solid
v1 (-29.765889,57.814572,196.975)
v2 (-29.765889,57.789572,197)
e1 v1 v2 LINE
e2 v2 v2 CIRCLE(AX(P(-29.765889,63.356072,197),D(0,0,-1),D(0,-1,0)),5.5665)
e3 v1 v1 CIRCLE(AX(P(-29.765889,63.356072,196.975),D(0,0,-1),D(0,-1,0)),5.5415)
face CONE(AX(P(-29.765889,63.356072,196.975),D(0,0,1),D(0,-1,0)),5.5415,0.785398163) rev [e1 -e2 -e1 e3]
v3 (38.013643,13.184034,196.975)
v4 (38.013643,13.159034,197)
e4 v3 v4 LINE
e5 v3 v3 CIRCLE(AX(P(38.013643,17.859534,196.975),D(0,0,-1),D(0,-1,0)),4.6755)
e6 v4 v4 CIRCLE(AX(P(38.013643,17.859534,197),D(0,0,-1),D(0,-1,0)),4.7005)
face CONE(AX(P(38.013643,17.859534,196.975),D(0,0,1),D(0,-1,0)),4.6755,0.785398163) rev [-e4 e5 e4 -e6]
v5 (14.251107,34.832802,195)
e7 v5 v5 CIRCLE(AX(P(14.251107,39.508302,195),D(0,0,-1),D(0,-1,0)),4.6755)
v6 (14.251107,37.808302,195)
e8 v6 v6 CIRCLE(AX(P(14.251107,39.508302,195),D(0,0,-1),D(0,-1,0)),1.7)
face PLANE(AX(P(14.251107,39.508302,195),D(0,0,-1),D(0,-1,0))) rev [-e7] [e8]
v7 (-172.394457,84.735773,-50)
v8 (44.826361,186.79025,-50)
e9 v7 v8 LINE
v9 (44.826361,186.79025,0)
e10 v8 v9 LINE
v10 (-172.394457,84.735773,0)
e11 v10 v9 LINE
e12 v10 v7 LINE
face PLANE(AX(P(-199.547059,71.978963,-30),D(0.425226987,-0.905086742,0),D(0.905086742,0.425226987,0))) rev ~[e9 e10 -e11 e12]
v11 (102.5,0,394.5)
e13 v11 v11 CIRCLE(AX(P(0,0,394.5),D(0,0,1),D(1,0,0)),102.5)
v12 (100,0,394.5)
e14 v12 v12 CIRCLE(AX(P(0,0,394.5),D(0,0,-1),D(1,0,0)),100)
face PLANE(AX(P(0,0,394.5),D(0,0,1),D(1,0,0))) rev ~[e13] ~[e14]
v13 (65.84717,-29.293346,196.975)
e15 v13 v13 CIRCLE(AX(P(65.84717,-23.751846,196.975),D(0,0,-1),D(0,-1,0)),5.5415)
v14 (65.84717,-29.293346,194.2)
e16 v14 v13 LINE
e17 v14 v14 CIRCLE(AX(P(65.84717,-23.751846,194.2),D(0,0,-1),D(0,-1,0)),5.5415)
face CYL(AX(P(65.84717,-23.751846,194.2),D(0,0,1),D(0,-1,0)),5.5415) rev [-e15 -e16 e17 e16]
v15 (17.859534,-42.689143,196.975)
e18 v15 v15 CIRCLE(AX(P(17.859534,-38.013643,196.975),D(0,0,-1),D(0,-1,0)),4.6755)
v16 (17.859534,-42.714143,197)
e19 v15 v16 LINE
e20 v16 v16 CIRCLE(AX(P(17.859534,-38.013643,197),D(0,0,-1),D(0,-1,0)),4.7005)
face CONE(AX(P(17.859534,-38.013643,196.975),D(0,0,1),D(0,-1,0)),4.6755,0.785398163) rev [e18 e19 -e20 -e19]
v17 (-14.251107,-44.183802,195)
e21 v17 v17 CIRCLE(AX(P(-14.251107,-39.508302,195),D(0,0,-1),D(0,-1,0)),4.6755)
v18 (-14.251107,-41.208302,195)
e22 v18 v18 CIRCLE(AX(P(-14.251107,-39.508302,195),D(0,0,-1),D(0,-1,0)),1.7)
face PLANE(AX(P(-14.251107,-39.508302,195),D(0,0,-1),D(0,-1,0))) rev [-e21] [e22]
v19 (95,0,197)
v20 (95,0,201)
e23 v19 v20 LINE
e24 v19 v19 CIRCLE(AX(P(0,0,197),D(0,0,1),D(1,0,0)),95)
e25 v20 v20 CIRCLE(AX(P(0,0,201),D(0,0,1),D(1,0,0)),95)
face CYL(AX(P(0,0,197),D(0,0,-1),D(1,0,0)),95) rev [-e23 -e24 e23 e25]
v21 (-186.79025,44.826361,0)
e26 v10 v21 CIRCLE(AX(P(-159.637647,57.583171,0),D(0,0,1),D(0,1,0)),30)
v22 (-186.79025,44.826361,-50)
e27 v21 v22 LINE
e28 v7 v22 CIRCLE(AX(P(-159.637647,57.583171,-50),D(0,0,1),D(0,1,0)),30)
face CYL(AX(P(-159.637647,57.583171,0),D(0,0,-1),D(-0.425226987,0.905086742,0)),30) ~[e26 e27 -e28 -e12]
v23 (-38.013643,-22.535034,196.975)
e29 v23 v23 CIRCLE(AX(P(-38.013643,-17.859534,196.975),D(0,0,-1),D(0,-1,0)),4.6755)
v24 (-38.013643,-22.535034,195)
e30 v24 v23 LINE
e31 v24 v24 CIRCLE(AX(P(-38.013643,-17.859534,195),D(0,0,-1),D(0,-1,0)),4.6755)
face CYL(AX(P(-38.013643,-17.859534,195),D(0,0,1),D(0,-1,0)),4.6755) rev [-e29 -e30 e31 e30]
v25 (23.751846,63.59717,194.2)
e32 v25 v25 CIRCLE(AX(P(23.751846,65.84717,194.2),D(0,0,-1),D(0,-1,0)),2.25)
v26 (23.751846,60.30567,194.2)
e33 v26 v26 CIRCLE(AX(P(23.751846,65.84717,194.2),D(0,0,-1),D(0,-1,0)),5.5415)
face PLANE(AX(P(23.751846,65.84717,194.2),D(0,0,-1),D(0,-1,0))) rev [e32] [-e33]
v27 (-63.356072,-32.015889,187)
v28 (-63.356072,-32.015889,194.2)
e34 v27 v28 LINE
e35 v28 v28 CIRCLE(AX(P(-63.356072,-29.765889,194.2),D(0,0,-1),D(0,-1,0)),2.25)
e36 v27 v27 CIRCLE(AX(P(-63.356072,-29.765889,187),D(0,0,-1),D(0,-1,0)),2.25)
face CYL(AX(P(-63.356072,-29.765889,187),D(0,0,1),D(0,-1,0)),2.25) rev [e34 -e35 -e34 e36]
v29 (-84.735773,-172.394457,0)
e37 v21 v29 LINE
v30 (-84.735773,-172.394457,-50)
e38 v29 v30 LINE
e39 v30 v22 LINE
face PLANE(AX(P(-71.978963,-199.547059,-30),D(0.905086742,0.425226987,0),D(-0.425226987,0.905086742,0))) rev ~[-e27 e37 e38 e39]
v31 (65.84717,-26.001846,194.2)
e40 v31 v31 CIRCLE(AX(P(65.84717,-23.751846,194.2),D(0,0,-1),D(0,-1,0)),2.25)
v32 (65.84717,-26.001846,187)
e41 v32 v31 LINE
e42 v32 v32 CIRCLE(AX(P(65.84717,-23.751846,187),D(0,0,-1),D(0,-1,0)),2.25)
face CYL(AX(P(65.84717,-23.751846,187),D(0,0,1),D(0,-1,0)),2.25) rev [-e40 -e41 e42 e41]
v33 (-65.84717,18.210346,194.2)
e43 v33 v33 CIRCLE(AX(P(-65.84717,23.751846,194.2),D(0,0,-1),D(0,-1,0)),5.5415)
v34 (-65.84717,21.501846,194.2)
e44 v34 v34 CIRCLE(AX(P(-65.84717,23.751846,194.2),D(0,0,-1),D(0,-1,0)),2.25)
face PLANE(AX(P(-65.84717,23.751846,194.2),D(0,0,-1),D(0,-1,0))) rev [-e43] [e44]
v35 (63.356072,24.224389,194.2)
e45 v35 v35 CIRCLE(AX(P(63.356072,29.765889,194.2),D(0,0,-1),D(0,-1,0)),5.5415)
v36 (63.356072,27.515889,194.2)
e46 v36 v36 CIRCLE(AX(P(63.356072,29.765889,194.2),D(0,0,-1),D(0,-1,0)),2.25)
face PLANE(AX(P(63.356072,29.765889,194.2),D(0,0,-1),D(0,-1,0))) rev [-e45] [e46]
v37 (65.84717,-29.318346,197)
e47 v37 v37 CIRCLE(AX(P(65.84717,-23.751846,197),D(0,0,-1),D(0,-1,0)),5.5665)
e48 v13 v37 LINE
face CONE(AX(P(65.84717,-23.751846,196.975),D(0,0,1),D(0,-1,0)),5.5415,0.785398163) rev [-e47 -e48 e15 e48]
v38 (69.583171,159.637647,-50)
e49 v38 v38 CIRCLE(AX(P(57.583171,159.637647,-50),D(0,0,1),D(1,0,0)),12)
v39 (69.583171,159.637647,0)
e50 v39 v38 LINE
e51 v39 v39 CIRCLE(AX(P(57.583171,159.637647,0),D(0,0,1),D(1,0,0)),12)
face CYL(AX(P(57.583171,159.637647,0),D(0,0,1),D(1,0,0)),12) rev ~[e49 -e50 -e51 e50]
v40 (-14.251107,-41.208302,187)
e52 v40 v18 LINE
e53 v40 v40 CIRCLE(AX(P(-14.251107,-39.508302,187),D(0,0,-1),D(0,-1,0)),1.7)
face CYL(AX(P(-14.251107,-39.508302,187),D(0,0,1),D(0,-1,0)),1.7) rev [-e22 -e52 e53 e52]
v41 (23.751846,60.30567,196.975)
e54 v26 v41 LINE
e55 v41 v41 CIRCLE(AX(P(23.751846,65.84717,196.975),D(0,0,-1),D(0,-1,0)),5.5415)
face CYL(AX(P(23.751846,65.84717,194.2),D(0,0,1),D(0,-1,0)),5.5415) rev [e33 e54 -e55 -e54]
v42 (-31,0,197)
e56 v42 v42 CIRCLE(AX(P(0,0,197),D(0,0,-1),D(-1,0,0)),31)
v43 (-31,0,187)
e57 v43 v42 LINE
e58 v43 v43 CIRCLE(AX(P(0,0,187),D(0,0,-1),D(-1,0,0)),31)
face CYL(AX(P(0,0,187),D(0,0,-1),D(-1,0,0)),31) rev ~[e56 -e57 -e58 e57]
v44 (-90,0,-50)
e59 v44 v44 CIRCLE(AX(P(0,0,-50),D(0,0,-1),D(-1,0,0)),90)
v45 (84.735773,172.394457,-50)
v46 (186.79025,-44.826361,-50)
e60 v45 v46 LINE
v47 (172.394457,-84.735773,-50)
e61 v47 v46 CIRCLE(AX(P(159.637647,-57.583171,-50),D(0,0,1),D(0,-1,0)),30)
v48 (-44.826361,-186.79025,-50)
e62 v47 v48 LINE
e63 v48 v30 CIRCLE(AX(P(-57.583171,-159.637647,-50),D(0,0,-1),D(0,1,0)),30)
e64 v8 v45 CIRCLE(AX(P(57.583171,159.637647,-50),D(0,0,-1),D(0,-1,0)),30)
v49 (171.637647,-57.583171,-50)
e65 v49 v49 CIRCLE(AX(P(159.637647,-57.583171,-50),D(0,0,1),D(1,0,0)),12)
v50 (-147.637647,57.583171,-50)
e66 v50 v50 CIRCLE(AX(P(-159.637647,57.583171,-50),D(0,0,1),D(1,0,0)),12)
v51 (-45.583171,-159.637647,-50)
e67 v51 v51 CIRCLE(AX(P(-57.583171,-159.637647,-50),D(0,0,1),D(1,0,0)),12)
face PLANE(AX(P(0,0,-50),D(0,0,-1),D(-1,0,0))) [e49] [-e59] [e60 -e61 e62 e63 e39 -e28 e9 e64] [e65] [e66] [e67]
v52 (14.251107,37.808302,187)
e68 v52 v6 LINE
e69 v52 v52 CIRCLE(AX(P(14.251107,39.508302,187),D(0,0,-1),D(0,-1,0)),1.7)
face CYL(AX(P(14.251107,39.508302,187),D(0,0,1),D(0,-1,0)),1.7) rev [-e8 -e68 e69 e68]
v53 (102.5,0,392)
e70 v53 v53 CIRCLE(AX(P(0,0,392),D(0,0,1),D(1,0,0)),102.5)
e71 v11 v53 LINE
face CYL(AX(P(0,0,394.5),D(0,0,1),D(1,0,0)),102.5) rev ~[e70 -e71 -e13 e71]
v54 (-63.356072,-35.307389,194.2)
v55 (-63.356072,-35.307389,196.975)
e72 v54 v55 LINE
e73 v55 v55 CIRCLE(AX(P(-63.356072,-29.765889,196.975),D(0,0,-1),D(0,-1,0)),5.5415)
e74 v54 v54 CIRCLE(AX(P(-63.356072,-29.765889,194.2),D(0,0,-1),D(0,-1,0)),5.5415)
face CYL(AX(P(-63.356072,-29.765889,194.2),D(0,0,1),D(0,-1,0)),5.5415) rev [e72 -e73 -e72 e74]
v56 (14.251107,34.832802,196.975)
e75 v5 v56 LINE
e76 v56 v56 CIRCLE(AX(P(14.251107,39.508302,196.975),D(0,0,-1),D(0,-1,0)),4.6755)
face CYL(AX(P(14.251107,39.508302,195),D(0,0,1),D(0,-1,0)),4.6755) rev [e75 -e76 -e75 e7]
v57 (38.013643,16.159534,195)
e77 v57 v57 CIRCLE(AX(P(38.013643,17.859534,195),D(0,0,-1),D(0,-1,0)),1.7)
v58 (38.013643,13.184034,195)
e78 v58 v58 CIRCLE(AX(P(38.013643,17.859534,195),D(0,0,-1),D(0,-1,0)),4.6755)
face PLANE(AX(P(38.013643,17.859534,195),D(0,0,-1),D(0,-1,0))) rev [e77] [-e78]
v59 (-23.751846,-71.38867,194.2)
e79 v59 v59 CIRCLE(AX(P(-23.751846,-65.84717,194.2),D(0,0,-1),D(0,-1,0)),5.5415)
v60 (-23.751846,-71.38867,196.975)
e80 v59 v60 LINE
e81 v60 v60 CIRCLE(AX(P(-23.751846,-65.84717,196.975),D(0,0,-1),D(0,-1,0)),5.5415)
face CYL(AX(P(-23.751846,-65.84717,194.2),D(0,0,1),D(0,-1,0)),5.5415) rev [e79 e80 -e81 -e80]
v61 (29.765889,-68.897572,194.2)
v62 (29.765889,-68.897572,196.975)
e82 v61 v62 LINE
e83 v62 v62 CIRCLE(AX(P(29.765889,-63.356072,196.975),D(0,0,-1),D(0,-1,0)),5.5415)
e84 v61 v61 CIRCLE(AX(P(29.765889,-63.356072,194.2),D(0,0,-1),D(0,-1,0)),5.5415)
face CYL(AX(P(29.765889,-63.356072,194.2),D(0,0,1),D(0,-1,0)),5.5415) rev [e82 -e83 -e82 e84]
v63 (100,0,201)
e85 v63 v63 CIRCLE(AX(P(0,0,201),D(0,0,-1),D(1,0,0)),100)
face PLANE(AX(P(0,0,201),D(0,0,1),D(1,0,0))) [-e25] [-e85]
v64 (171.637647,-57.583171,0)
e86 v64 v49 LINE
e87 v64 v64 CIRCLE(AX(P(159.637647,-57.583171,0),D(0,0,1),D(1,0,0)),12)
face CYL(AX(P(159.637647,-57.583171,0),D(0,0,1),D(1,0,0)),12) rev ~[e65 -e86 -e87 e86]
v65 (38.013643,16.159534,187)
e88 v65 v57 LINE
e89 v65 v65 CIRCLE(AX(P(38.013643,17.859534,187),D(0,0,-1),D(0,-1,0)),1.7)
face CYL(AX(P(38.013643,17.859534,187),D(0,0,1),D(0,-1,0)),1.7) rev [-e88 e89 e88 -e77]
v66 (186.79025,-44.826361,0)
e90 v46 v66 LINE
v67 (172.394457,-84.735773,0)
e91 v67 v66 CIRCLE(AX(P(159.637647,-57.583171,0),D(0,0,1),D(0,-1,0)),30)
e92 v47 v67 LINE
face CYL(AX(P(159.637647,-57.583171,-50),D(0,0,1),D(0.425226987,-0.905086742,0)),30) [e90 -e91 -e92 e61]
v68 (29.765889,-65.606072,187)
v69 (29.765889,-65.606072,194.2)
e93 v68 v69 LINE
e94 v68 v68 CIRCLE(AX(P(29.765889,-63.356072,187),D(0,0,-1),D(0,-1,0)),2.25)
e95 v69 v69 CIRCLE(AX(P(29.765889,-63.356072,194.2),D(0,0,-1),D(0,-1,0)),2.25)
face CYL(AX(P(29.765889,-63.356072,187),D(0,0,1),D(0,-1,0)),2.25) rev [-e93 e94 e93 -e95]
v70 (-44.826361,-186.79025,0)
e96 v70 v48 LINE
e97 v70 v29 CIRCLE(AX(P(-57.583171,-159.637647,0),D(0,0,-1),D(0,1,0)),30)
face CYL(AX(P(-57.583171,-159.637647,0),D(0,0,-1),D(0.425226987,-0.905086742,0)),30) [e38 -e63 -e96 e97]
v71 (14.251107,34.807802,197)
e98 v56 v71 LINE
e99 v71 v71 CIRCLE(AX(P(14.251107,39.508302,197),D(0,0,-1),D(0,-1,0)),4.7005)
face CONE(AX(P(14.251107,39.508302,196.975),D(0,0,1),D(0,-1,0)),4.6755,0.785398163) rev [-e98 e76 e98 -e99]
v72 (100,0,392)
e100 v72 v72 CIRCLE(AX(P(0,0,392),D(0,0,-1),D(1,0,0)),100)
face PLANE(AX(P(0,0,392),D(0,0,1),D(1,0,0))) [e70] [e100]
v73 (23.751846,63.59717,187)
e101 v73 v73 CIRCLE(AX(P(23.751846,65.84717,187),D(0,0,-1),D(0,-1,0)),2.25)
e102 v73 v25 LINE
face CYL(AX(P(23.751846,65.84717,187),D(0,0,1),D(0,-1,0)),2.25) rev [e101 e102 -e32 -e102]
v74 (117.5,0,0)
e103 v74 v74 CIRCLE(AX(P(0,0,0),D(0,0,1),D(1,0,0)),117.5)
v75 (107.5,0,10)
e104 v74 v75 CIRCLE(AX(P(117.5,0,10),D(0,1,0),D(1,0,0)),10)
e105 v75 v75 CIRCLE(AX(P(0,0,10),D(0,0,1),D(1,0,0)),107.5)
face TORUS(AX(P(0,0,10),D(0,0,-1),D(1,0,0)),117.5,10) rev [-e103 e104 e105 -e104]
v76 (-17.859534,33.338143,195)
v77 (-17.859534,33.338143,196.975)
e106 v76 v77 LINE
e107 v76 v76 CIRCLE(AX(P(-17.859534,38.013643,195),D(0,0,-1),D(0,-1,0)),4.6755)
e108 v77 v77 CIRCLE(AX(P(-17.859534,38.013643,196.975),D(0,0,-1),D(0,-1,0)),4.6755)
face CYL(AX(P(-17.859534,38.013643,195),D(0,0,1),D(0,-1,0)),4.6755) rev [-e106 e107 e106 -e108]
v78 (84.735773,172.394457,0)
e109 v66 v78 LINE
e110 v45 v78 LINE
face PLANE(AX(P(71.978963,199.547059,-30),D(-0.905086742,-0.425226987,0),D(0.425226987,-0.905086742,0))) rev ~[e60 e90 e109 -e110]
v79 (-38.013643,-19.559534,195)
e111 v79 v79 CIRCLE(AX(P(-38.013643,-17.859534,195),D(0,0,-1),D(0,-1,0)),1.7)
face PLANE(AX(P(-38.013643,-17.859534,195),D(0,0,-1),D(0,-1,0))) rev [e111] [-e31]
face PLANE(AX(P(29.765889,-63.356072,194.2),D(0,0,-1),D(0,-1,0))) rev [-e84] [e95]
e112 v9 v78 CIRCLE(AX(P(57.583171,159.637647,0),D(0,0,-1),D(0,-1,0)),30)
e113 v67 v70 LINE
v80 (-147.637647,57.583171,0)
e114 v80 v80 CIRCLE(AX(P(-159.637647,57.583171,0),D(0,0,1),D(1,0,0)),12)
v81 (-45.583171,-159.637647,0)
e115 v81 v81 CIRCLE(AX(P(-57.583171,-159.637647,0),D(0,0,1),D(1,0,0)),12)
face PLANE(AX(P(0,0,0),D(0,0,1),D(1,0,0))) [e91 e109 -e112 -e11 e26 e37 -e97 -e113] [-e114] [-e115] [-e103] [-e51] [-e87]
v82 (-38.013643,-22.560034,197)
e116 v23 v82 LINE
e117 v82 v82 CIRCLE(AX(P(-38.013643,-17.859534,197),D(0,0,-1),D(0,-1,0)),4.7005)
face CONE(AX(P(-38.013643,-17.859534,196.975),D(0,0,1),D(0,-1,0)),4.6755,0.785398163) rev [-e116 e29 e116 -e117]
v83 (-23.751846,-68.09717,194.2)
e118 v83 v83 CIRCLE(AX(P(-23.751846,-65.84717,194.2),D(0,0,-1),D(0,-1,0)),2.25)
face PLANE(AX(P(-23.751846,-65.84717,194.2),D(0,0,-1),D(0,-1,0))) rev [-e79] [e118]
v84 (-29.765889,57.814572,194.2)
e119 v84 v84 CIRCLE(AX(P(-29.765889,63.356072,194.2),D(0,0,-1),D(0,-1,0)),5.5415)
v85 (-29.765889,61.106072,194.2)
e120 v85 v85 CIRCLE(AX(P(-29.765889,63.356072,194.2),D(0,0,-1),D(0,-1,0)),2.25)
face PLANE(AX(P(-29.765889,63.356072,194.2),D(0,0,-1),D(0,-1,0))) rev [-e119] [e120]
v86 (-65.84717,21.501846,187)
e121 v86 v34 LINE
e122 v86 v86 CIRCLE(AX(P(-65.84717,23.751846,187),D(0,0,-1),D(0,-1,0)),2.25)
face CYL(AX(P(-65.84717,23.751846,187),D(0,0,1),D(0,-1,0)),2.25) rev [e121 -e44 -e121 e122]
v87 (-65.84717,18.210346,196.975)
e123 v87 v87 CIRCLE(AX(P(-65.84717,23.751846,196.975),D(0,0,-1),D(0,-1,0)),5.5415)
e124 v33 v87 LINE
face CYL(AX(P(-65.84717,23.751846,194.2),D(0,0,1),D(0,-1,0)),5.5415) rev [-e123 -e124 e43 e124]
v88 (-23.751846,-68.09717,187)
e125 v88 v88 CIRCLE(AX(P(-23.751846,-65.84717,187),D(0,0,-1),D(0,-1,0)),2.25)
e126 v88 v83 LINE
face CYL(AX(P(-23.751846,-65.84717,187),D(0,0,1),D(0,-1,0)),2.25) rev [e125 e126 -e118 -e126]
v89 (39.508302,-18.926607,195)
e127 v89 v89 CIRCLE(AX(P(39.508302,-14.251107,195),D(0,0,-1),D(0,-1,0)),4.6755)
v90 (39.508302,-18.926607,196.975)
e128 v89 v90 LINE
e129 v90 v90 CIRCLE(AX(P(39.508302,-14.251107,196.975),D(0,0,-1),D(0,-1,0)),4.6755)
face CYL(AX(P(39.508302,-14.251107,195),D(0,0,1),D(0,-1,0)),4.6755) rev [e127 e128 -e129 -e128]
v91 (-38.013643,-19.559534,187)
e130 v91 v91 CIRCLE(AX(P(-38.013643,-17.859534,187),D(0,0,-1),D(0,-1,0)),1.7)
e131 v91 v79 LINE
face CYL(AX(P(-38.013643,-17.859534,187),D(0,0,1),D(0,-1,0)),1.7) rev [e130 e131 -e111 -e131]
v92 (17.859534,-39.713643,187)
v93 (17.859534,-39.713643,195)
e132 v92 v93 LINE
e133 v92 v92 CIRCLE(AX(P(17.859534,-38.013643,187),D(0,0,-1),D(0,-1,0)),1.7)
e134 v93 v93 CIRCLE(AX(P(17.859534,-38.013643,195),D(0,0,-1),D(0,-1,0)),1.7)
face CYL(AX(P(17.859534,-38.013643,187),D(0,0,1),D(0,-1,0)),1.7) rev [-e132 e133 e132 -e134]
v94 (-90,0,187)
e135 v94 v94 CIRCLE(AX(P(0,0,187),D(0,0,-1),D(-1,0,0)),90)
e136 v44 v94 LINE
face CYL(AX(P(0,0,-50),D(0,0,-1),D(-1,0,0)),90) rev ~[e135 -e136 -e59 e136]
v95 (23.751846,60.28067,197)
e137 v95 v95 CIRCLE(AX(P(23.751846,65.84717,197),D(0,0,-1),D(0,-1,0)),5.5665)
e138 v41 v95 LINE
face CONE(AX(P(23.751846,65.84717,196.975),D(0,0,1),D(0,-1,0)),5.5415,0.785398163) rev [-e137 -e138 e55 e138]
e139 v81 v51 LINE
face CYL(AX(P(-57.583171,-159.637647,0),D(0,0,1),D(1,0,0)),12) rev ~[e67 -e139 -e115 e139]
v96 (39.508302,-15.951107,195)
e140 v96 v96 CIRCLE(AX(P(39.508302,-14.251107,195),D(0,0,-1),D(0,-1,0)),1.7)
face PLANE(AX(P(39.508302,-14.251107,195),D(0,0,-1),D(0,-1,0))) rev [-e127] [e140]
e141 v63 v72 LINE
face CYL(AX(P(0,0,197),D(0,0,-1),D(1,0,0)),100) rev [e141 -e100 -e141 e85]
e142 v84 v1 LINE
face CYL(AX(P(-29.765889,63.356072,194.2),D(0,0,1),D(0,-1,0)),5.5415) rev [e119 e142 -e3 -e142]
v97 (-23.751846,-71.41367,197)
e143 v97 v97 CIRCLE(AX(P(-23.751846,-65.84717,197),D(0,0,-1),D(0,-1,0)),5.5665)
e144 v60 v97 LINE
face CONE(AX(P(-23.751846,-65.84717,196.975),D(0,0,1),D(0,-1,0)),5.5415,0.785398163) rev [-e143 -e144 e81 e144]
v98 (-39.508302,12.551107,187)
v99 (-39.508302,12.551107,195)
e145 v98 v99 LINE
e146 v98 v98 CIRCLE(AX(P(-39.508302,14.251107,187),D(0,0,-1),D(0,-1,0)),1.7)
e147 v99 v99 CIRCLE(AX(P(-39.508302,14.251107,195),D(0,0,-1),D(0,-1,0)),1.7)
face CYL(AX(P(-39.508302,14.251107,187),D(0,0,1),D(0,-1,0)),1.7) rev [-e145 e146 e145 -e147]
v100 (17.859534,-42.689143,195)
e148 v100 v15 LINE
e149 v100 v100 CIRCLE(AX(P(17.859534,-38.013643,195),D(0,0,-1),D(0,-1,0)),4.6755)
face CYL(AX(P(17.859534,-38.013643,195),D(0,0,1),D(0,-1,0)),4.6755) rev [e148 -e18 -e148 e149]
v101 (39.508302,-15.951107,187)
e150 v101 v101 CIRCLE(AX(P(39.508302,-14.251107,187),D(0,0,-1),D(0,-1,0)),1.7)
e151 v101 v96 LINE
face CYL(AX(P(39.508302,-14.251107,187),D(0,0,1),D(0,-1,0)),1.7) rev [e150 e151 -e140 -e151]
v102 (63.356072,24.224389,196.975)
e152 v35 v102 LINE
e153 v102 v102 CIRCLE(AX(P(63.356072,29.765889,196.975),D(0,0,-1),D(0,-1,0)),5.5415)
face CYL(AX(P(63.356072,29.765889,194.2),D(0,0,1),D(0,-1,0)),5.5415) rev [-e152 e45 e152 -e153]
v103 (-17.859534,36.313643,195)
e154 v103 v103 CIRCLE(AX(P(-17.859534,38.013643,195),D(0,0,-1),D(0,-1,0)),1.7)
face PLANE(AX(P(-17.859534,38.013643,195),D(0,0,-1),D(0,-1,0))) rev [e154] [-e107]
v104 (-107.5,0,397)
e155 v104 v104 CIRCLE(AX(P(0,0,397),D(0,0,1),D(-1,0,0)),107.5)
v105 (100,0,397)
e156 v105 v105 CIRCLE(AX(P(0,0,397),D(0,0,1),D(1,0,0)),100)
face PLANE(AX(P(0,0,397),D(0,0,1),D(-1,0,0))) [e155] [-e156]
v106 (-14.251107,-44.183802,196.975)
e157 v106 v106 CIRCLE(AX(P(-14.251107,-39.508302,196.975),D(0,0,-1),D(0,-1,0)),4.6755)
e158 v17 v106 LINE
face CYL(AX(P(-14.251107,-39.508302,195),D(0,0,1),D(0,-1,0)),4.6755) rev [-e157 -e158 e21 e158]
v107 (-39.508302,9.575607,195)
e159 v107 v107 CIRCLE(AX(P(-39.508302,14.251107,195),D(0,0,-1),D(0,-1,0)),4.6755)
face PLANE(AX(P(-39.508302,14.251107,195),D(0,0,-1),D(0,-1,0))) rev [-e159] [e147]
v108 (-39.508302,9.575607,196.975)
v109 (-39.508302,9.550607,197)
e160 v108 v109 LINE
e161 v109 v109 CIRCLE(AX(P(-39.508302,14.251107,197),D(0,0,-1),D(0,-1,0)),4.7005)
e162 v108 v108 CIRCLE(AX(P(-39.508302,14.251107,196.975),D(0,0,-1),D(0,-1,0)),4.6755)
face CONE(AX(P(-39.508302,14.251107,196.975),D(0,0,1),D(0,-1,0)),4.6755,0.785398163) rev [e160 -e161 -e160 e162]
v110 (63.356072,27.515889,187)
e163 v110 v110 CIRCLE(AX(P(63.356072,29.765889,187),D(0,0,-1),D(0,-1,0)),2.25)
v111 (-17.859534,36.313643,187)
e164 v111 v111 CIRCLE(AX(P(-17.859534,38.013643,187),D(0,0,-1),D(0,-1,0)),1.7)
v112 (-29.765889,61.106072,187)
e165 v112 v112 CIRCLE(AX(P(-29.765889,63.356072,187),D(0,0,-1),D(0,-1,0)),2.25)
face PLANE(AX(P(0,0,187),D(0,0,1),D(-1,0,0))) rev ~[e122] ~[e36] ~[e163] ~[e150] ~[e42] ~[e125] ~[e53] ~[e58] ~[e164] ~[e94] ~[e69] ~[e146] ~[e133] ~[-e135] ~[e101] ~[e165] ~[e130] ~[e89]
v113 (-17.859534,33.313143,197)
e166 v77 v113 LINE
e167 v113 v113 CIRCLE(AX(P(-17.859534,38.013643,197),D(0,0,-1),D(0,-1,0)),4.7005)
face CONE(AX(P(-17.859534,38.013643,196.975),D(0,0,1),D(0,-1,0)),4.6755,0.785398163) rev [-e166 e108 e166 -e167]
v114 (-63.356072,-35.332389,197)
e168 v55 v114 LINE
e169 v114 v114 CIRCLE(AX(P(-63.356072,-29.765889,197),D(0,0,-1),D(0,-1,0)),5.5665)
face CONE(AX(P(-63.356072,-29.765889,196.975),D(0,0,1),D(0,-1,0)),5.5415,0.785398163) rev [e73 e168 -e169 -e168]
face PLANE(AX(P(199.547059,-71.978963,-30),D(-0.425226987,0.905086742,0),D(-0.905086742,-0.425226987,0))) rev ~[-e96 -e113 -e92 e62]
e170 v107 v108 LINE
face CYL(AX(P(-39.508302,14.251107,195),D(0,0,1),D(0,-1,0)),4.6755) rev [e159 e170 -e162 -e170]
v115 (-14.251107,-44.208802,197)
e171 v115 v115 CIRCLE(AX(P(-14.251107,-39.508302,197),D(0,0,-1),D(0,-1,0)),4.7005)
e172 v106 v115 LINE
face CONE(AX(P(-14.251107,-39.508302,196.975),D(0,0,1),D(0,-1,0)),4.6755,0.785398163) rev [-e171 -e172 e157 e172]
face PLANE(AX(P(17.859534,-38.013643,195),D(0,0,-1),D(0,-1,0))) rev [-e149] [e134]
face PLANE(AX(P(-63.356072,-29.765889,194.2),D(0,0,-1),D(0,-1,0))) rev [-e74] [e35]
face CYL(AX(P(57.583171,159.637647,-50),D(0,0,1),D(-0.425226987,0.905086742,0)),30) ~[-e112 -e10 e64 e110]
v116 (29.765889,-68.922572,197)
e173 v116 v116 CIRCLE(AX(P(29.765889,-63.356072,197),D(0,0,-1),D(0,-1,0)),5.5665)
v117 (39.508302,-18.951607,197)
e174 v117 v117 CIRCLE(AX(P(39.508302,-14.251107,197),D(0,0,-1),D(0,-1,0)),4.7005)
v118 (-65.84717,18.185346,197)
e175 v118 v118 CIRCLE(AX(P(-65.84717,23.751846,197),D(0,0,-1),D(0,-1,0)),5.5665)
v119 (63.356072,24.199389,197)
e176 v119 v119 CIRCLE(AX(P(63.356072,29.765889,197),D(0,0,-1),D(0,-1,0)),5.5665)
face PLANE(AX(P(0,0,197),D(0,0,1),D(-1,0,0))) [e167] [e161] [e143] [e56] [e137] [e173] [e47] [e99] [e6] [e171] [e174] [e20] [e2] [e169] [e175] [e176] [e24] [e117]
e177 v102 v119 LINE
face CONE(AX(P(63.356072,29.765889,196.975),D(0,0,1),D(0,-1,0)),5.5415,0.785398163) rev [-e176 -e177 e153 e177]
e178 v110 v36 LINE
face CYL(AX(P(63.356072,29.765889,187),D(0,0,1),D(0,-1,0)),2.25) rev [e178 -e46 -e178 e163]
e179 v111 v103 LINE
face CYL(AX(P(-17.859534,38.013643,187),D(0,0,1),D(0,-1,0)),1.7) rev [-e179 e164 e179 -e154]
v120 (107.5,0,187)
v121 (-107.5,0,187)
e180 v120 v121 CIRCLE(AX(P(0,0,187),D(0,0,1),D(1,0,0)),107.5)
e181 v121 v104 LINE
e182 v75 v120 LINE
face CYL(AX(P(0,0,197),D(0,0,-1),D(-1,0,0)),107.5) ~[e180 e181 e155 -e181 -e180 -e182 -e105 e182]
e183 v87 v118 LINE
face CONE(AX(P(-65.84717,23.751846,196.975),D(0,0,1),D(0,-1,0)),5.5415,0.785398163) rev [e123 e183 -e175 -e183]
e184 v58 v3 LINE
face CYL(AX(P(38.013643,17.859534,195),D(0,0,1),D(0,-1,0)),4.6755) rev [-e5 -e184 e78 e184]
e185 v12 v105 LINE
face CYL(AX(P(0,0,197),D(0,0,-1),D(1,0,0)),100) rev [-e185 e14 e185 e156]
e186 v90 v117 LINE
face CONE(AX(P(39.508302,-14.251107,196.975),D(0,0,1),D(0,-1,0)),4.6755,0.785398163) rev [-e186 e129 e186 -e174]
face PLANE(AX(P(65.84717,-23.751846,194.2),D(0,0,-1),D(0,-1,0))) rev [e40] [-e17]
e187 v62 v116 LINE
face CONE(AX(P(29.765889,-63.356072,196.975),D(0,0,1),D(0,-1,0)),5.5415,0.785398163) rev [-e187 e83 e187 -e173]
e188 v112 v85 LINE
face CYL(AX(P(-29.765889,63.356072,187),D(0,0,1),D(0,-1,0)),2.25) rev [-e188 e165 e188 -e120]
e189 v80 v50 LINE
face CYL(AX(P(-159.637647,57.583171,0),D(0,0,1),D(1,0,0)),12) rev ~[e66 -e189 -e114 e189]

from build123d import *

# Parameters (mm, degrees)
SKETCH1_R                                   = 107.5
SKETCH1_R_2                                 = 100
BOSS_EXTRUDE1_DEPTH                         = 187
BOSS_EXTRUDE2_DEPTH                         = 30
BOSS_EXTRUDE3_DEPTH                         = 20
FILLET1_R                                   = 30
FILLET2_R                                   = 10
SKETCH5_R                                   = 105
CUT_EXTRUDE1_DEPTH                          = 942
SKETCH6_R                                   = 107.5
BOSS_EXTRUDE6_DEPTH                         = 10
SKETCH7_R                                   = 107.5
SKETCH7_R_2                                 = 100
BOSS_EXTRUDE7_DEPTH                         = 200
SKETCH8_R                                   = 102.5
SKETCH8_R_2                                 = 95
BOSS_EXTRUDE8_DEPTH                         = 4
CUT_EXTRUDE2_START                          = -2.5
SKETCH9_R                                   = 102.5
CUT_EXTRUDE2_DEPTH                          = 2.5
SKETCH10_R                                  = 31
CUT_EXTRUDE3_DEPTH                          = 28
CBORE_FOR_M4_HEX_HEAD_CAP_SCREW1_AT_2_COUNT = 2
CBORE_FOR_M4_HEX_HEAD_CAP_SCREW1_AT_2_PITCH = 53.575680531
CBORE_FOR_M4_HEX_HEAD_CAP_SCREW1_AT_3_COUNT = 2
CBORE_FOR_M4_HEX_HEAD_CAP_SCREW1_AT_3_PITCH = 98.994949366
CBORE_FOR_M4_HEX_HEAD_CAP_SCREW1_AT_4_COUNT = 2
CBORE_FOR_M4_HEX_HEAD_CAP_SCREW1_AT_4_PITCH = 129.343134552
CBORE_FOR_M4_HEX_HEAD_CAP_SCREW1_AT_5_COUNT = 2
CBORE_FOR_M4_HEX_HEAD_CAP_SCREW1_AT_5_PITCH = 140
CBORE_FOR_M4_HEX_HEAD_CAP_SCREW1_AT_6_COUNT = 2
CBORE_FOR_M4_HEX_HEAD_CAP_SCREW1_AT_6_PITCH = 129.343134552
CBORE_FOR_M4_HEX_HEAD_CAP_SCREW1_AT_7_COUNT = 2
CBORE_FOR_M4_HEX_HEAD_CAP_SCREW1_AT_7_PITCH = 98.994949366
CBORE_FOR_M4_HEX_HEAD_CAP_SCREW1_AT_8_COUNT = 2
CBORE_FOR_M4_HEX_HEAD_CAP_SCREW1_AT_8_PITCH = 53.575680531
CBORE_FOR_M3_HEX_HEAD_CAP_SCREW1_AT_2_COUNT = 2
CBORE_FOR_M3_HEX_HEAD_CAP_SCREW1_AT_2_PITCH = 32.145408414
CBORE_FOR_M3_HEX_HEAD_CAP_SCREW1_AT_3_COUNT = 2
CBORE_FOR_M3_HEX_HEAD_CAP_SCREW1_AT_3_PITCH = 59.396969796
CBORE_FOR_M3_HEX_HEAD_CAP_SCREW1_AT_4_COUNT = 2
CBORE_FOR_M3_HEX_HEAD_CAP_SCREW1_AT_4_PITCH = 77.605880961
CBORE_FOR_M3_HEX_HEAD_CAP_SCREW1_AT_5_COUNT = 2
CBORE_FOR_M3_HEX_HEAD_CAP_SCREW1_AT_5_PITCH = 84.00000025
CBORE_FOR_M3_HEX_HEAD_CAP_SCREW1_AT_6_COUNT = 2
CBORE_FOR_M3_HEX_HEAD_CAP_SCREW1_AT_6_PITCH = 77.605880961
CBORE_FOR_M3_HEX_HEAD_CAP_SCREW1_AT_7_COUNT = 2
CBORE_FOR_M3_HEX_HEAD_CAP_SCREW1_AT_7_PITCH = 59.396969796
CBORE_FOR_M3_HEX_HEAD_CAP_SCREW1_AT_8_COUNT = 2
CBORE_FOR_M3_HEX_HEAD_CAP_SCREW1_AT_8_PITCH = 32.145408414
BOSS_EXTRUDE9_START                         = 237
SKETCH20_R                                  = 105
SKETCH20_R_2                                = 90
BOSS_EXTRUDE9_DEPTH                         = 237
SKETCH21_R                                  = 12
CUT_EXTRUDE4_DEPTH                          = 421


with BuildPart() as part:
    # Sketch1 → Boss-Extrude1 (new body)
    with BuildSketch(Plane.XY):
        Circle(SKETCH1_R)
        Circle(SKETCH1_R_2, mode=Mode.SUBTRACT)
    extrude(amount=BOSS_EXTRUDE1_DEPTH)

    # Sketch2 → Boss-Extrude2 (add)
    with BuildSketch(Plane(origin=(0, 0, 0), x_dir=(-1, 0, 0), z_dir=(0, 0, -1))):
        Polygon((-199.547059231, -71.978963263), (-71.978963263, 199.547059231), (63.784047984, 135.763011247), (199.547059231, 71.978963263), (71.978963263, -199.547059231), (-63.784047984, -135.763011247), align=None)
    extrude(amount=BOSS_EXTRUDE2_DEPTH)

    # Sketch3 → Boss-Extrude3 (add)
    with BuildSketch(Plane(origin=(0, 0, -30), x_dir=(-1, 0, 0), z_dir=(0, 0, -1))):
        Polygon((-199.547059231, -71.978963263), (71.978963263, -199.547059231), (199.547059231, 71.978963263), (-71.978963263, 199.547059231), align=None)
    extrude(amount=BOSS_EXTRUDE3_DEPTH)

    # Fillet1
    fillet1_edges = [part.edges().sort_by_distance(p)[0] for p in [
        (199.547059231, -71.978963263, -25),
        (-71.978963263, -199.547059231, -25),
        (-199.547059231, 71.978963263, -25),
        (71.978963263, 199.547059231, -25),
    ]]
    fillet(fillet1_edges, radius=FILLET1_R)

    # Fillet2
    fillet2_edges = [part.edges().sort_by_distance(p)[0] for p in [
        (-107.5, 0, 0),
    ]]
    fillet(fillet2_edges, radius=FILLET2_R)

    # Sketch5 → Cut-Extrude1 (cut)
    with BuildSketch(Plane(origin=(0, 0, -50), x_dir=(-1, 0, 0), z_dir=(0, 0, -1))):
        Circle(SKETCH5_R)
    extrude(amount=-CUT_EXTRUDE1_DEPTH, mode=Mode.SUBTRACT)

    # Sketch6 → Boss-Extrude6 (add)
    with BuildSketch(Plane.XY.offset(187)):
        with Locations(Location((0, 0, 0), (0, 0, 180))):
            Circle(SKETCH6_R)
    extrude(amount=BOSS_EXTRUDE6_DEPTH)

    # Sketch7 → Boss-Extrude7 (add)
    with BuildSketch(Plane.XY.offset(197)):
        with Locations(Location((0, 0, 0), (0, 0, 180))):
            Circle(SKETCH7_R)
        Circle(SKETCH7_R_2, mode=Mode.SUBTRACT)
    extrude(amount=BOSS_EXTRUDE7_DEPTH)

    # Sketch8 → Boss-Extrude8 (add)
    with BuildSketch(Plane.XY.offset(197)):
        Circle(SKETCH8_R)
        Circle(SKETCH8_R_2, mode=Mode.SUBTRACT)
    extrude(amount=BOSS_EXTRUDE8_DEPTH)

    # Sketch9 → Cut-Extrude2 (cut)
    with BuildSketch(Plane.XY.offset(397).offset(CUT_EXTRUDE2_START)):
        Circle(SKETCH9_R)
    extrude(amount=-CUT_EXTRUDE2_DEPTH, mode=Mode.SUBTRACT)

    # Sketch10 → Cut-Extrude3 (cut)
    with BuildSketch(Plane(origin=(0, 0, 187), x_dir=(-1, 0, 0), z_dir=(0, 0, -1))):
        Circle(SKETCH10_R)
    extrude(amount=-CUT_EXTRUDE3_DEPTH, mode=Mode.SUBTRACT)

    # Sketch13 → CBORE for M4 Hex Head Cap Screw1 (revolve, cut)
    with BuildSketch(Plane(origin=(23.75184564, 65.847170241, 197), x_dir=(0, -1, 0), z_dir=(1, 0, 0))):
        Polygon((0, 0), (0, 11.351936393), (2.25, 10), (2.25, 2.8), (5.5415, 2.8), (5.5415, 0.025), (5.5665, 0), align=None)
    cbore_for_m4_hex_head_cap_screw1 = revolve(axis=Axis((23.75184564, 65.847170241, 203.35), (0, 0, -1)), mode=Mode.SUBTRACT)

    # CBORE for M4 Hex Head Cap Screw1 at 2: CBORE for M4 Hex Head Cap Screw1 ×2
    with Locations(*[Vector(0.7392202149258387, -0.6734637880725266, 0) * (i * CBORE_FOR_M4_HEX_HEAD_CAP_SCREW1_AT_2_PITCH) for i in range(1, CBORE_FOR_M4_HEX_HEAD_CAP_SCREW1_AT_2_COUNT)]):
        add(cbore_for_m4_hex_head_cap_screw1, mode=Mode.SUBTRACT)

    # CBORE for M4 Hex Head Cap Screw1 at 3: CBORE for M4 Hex Head Cap Screw1 ×2
    with Locations(*[Vector(0.4252269925953868, -0.9050867388092054, 0) * (i * CBORE_FOR_M4_HEX_HEAD_CAP_SCREW1_AT_3_PITCH) for i in range(1, CBORE_FOR_M4_HEX_HEAD_CAP_SCREW1_AT_3_COUNT)]):
        add(cbore_for_m4_hex_head_cap_screw1, mode=Mode.SUBTRACT)

    # CBORE for M4 Hex Head Cap Screw1 at 4: CBORE for M4 Hex Head Cap Screw1 ×2
    with Locations(*[Vector(0.04649681533457415, -0.998918438193901, 0) * (i * CBORE_FOR_M4_HEX_HEAD_CAP_SCREW1_AT_4_PITCH) for i in range(1, CBORE_FOR_M4_HEX_HEAD_CAP_SCREW1_AT_4_COUNT)]):
        add(cbore_for_m4_hex_head_cap_screw1, mode=Mode.SUBTRACT)

    # CBORE for M4 Hex Head Cap Screw1 at 5: CBORE for M4 Hex Head Cap Screw1 ×2
    with Locations(*[Vector(-0.3393120805662469, -0.9406738605817666, 0) * (i * CBORE_FOR_M4_HEX_HEAD_CAP_SCREW1_AT_5_PITCH) for i in range(1, CBORE_FOR_M4_HEX_HEAD_CAP_SCREW1_AT_5_COUNT)]):
        add(cbore_for_m4_hex_head_cap_screw1, mode=Mode.SUBTRACT)

    # CBORE for M4 Hex Head Cap Screw1 at 6: CBORE for M4 Hex Head Cap Screw1 ×2
    with Locations(*[Vector(-0.6734637880725266, -0.7392202149258387, 0) * (i * CBORE_FOR_M4_HEX_HEAD_CAP_SCREW1_AT_6_PITCH) for i in range(1, CBORE_FOR_M4_HEX_HEAD_CAP_SCREW1_AT_6_COUNT)]):
        add(cbore_for_m4_hex_head_cap_screw1, mode=Mode.SUBTRACT)

    # CBORE for M4 Hex Head Cap Screw1 at 7: CBORE for M4 Hex Head Cap Screw1 ×2
    with Locations(*[Vector(-0.9050867388092054, -0.4252269925953869, 0) * (i * CBORE_FOR_M4_HEX_HEAD_CAP_SCREW1_AT_7_PITCH) for i in range(1, CBORE_FOR_M4_HEX_HEAD_CAP_SCREW1_AT_7_COUNT)]):
        add(cbore_for_m4_hex_head_cap_screw1, mode=Mode.SUBTRACT)

    # CBORE for M4 Hex Head Cap Screw1 at 8: CBORE for M4 Hex Head Cap Screw1 ×2
    with Locations(*[Vector(-0.9989184381939011, -0.046496815334574164, 0) * (i * CBORE_FOR_M4_HEX_HEAD_CAP_SCREW1_AT_8_PITCH) for i in range(1, CBORE_FOR_M4_HEX_HEAD_CAP_SCREW1_AT_8_COUNT)]):
        add(cbore_for_m4_hex_head_cap_screw1, mode=Mode.SUBTRACT)

    # Sketch19 → CBORE for M3 Hex Head Cap Screw1 (revolve, cut)
    with BuildSketch(Plane(origin=(14.251107426, 39.508302262, 197), x_dir=(0, -1, 0), z_dir=(1, 0, 0))):
        Polygon((0, 0), (0, 11.021463052), (1.7, 10), (1.7, 2), (4.6755, 2), (4.6755, 0.025), (4.7005, 0), align=None)
    cbore_for_m3_hex_head_cap_screw1 = revolve(axis=Axis((14.251107426, 39.508302262, 203.35), (0, 0, -1)), mode=Mode.SUBTRACT)

    # CBORE for M3 Hex Head Cap Screw1 at 2: CBORE for M3 Hex Head Cap Screw1 ×2
    with Locations(*[Vector(0.7392202149258387, -0.6734637880725266, 0) * (i * CBORE_FOR_M3_HEX_HEAD_CAP_SCREW1_AT_2_PITCH) for i in range(1, CBORE_FOR_M3_HEX_HEAD_CAP_SCREW1_AT_2_COUNT)]):
        add(cbore_for_m3_hex_head_cap_screw1, mode=Mode.SUBTRACT)

    # CBORE for M3 Hex Head Cap Screw1 at 3: CBORE for M3 Hex Head Cap Screw1 ×2
    with Locations(*[Vector(0.4252269925953868, -0.9050867388092055, 0) * (i * CBORE_FOR_M3_HEX_HEAD_CAP_SCREW1_AT_3_PITCH) for i in range(1, CBORE_FOR_M3_HEX_HEAD_CAP_SCREW1_AT_3_COUNT)]):
        add(cbore_for_m3_hex_head_cap_screw1, mode=Mode.SUBTRACT)

    # CBORE for M3 Hex Head Cap Screw1 at 4: CBORE for M3 Hex Head Cap Screw1 ×2
    with Locations(*[Vector(0.0464968153345742, -0.9989184381939011, 0) * (i * CBORE_FOR_M3_HEX_HEAD_CAP_SCREW1_AT_4_PITCH) for i in range(1, CBORE_FOR_M3_HEX_HEAD_CAP_SCREW1_AT_4_COUNT)]):
        add(cbore_for_m3_hex_head_cap_screw1, mode=Mode.SUBTRACT)

    # CBORE for M3 Hex Head Cap Screw1 at 5: CBORE for M3 Hex Head Cap Screw1 ×2
    with Locations(*[Vector(-0.3393120805662469, -0.9406738605817666, 0) * (i * CBORE_FOR_M3_HEX_HEAD_CAP_SCREW1_AT_5_PITCH) for i in range(1, CBORE_FOR_M3_HEX_HEAD_CAP_SCREW1_AT_5_COUNT)]):
        add(cbore_for_m3_hex_head_cap_screw1, mode=Mode.SUBTRACT)

    # CBORE for M3 Hex Head Cap Screw1 at 6: CBORE for M3 Hex Head Cap Screw1 ×2
    with Locations(*[Vector(-0.6734637880725266, -0.7392202149258387, 0) * (i * CBORE_FOR_M3_HEX_HEAD_CAP_SCREW1_AT_6_PITCH) for i in range(1, CBORE_FOR_M3_HEX_HEAD_CAP_SCREW1_AT_6_COUNT)]):
        add(cbore_for_m3_hex_head_cap_screw1, mode=Mode.SUBTRACT)

    # CBORE for M3 Hex Head Cap Screw1 at 7: CBORE for M3 Hex Head Cap Screw1 ×2
    with Locations(*[Vector(-0.9050867388092054, -0.4252269925953869, 0) * (i * CBORE_FOR_M3_HEX_HEAD_CAP_SCREW1_AT_7_PITCH) for i in range(1, CBORE_FOR_M3_HEX_HEAD_CAP_SCREW1_AT_7_COUNT)]):
        add(cbore_for_m3_hex_head_cap_screw1, mode=Mode.SUBTRACT)

    # CBORE for M3 Hex Head Cap Screw1 at 8: CBORE for M3 Hex Head Cap Screw1 ×2
    with Locations(*[Vector(-0.998918438193901, -0.046496815334574004, 0) * (i * CBORE_FOR_M3_HEX_HEAD_CAP_SCREW1_AT_8_PITCH) for i in range(1, CBORE_FOR_M3_HEX_HEAD_CAP_SCREW1_AT_8_COUNT)]):
        add(cbore_for_m3_hex_head_cap_screw1, mode=Mode.SUBTRACT)

    # Sketch20 → Boss-Extrude9 (add)
    with BuildSketch(Plane(origin=(0, 0, 187), x_dir=(-1, 0, 0), z_dir=(0, 0, -1)).offset(BOSS_EXTRUDE9_START)):
        Circle(SKETCH20_R)
        Circle(SKETCH20_R_2, mode=Mode.SUBTRACT)
    extrude(amount=-BOSS_EXTRUDE9_DEPTH)

    # Sketch21 → Cut-Extrude4 (cut)
    with BuildSketch(Plane.XY):
        with Locations((-159.637647385, 57.58317061)):
            Circle(SKETCH21_R)
        with Locations((57.58317061, 159.637647385)):
            Circle(SKETCH21_R)
        with Locations((159.637647385, -57.58317061)):
            Circle(SKETCH21_R)
        with Locations((-57.58317061, -159.637647385)):
            Circle(SKETCH21_R)
    extrude(amount=-CUT_EXTRUDE4_DEPTH, mode=Mode.SUBTRACT)


solid = part.part
